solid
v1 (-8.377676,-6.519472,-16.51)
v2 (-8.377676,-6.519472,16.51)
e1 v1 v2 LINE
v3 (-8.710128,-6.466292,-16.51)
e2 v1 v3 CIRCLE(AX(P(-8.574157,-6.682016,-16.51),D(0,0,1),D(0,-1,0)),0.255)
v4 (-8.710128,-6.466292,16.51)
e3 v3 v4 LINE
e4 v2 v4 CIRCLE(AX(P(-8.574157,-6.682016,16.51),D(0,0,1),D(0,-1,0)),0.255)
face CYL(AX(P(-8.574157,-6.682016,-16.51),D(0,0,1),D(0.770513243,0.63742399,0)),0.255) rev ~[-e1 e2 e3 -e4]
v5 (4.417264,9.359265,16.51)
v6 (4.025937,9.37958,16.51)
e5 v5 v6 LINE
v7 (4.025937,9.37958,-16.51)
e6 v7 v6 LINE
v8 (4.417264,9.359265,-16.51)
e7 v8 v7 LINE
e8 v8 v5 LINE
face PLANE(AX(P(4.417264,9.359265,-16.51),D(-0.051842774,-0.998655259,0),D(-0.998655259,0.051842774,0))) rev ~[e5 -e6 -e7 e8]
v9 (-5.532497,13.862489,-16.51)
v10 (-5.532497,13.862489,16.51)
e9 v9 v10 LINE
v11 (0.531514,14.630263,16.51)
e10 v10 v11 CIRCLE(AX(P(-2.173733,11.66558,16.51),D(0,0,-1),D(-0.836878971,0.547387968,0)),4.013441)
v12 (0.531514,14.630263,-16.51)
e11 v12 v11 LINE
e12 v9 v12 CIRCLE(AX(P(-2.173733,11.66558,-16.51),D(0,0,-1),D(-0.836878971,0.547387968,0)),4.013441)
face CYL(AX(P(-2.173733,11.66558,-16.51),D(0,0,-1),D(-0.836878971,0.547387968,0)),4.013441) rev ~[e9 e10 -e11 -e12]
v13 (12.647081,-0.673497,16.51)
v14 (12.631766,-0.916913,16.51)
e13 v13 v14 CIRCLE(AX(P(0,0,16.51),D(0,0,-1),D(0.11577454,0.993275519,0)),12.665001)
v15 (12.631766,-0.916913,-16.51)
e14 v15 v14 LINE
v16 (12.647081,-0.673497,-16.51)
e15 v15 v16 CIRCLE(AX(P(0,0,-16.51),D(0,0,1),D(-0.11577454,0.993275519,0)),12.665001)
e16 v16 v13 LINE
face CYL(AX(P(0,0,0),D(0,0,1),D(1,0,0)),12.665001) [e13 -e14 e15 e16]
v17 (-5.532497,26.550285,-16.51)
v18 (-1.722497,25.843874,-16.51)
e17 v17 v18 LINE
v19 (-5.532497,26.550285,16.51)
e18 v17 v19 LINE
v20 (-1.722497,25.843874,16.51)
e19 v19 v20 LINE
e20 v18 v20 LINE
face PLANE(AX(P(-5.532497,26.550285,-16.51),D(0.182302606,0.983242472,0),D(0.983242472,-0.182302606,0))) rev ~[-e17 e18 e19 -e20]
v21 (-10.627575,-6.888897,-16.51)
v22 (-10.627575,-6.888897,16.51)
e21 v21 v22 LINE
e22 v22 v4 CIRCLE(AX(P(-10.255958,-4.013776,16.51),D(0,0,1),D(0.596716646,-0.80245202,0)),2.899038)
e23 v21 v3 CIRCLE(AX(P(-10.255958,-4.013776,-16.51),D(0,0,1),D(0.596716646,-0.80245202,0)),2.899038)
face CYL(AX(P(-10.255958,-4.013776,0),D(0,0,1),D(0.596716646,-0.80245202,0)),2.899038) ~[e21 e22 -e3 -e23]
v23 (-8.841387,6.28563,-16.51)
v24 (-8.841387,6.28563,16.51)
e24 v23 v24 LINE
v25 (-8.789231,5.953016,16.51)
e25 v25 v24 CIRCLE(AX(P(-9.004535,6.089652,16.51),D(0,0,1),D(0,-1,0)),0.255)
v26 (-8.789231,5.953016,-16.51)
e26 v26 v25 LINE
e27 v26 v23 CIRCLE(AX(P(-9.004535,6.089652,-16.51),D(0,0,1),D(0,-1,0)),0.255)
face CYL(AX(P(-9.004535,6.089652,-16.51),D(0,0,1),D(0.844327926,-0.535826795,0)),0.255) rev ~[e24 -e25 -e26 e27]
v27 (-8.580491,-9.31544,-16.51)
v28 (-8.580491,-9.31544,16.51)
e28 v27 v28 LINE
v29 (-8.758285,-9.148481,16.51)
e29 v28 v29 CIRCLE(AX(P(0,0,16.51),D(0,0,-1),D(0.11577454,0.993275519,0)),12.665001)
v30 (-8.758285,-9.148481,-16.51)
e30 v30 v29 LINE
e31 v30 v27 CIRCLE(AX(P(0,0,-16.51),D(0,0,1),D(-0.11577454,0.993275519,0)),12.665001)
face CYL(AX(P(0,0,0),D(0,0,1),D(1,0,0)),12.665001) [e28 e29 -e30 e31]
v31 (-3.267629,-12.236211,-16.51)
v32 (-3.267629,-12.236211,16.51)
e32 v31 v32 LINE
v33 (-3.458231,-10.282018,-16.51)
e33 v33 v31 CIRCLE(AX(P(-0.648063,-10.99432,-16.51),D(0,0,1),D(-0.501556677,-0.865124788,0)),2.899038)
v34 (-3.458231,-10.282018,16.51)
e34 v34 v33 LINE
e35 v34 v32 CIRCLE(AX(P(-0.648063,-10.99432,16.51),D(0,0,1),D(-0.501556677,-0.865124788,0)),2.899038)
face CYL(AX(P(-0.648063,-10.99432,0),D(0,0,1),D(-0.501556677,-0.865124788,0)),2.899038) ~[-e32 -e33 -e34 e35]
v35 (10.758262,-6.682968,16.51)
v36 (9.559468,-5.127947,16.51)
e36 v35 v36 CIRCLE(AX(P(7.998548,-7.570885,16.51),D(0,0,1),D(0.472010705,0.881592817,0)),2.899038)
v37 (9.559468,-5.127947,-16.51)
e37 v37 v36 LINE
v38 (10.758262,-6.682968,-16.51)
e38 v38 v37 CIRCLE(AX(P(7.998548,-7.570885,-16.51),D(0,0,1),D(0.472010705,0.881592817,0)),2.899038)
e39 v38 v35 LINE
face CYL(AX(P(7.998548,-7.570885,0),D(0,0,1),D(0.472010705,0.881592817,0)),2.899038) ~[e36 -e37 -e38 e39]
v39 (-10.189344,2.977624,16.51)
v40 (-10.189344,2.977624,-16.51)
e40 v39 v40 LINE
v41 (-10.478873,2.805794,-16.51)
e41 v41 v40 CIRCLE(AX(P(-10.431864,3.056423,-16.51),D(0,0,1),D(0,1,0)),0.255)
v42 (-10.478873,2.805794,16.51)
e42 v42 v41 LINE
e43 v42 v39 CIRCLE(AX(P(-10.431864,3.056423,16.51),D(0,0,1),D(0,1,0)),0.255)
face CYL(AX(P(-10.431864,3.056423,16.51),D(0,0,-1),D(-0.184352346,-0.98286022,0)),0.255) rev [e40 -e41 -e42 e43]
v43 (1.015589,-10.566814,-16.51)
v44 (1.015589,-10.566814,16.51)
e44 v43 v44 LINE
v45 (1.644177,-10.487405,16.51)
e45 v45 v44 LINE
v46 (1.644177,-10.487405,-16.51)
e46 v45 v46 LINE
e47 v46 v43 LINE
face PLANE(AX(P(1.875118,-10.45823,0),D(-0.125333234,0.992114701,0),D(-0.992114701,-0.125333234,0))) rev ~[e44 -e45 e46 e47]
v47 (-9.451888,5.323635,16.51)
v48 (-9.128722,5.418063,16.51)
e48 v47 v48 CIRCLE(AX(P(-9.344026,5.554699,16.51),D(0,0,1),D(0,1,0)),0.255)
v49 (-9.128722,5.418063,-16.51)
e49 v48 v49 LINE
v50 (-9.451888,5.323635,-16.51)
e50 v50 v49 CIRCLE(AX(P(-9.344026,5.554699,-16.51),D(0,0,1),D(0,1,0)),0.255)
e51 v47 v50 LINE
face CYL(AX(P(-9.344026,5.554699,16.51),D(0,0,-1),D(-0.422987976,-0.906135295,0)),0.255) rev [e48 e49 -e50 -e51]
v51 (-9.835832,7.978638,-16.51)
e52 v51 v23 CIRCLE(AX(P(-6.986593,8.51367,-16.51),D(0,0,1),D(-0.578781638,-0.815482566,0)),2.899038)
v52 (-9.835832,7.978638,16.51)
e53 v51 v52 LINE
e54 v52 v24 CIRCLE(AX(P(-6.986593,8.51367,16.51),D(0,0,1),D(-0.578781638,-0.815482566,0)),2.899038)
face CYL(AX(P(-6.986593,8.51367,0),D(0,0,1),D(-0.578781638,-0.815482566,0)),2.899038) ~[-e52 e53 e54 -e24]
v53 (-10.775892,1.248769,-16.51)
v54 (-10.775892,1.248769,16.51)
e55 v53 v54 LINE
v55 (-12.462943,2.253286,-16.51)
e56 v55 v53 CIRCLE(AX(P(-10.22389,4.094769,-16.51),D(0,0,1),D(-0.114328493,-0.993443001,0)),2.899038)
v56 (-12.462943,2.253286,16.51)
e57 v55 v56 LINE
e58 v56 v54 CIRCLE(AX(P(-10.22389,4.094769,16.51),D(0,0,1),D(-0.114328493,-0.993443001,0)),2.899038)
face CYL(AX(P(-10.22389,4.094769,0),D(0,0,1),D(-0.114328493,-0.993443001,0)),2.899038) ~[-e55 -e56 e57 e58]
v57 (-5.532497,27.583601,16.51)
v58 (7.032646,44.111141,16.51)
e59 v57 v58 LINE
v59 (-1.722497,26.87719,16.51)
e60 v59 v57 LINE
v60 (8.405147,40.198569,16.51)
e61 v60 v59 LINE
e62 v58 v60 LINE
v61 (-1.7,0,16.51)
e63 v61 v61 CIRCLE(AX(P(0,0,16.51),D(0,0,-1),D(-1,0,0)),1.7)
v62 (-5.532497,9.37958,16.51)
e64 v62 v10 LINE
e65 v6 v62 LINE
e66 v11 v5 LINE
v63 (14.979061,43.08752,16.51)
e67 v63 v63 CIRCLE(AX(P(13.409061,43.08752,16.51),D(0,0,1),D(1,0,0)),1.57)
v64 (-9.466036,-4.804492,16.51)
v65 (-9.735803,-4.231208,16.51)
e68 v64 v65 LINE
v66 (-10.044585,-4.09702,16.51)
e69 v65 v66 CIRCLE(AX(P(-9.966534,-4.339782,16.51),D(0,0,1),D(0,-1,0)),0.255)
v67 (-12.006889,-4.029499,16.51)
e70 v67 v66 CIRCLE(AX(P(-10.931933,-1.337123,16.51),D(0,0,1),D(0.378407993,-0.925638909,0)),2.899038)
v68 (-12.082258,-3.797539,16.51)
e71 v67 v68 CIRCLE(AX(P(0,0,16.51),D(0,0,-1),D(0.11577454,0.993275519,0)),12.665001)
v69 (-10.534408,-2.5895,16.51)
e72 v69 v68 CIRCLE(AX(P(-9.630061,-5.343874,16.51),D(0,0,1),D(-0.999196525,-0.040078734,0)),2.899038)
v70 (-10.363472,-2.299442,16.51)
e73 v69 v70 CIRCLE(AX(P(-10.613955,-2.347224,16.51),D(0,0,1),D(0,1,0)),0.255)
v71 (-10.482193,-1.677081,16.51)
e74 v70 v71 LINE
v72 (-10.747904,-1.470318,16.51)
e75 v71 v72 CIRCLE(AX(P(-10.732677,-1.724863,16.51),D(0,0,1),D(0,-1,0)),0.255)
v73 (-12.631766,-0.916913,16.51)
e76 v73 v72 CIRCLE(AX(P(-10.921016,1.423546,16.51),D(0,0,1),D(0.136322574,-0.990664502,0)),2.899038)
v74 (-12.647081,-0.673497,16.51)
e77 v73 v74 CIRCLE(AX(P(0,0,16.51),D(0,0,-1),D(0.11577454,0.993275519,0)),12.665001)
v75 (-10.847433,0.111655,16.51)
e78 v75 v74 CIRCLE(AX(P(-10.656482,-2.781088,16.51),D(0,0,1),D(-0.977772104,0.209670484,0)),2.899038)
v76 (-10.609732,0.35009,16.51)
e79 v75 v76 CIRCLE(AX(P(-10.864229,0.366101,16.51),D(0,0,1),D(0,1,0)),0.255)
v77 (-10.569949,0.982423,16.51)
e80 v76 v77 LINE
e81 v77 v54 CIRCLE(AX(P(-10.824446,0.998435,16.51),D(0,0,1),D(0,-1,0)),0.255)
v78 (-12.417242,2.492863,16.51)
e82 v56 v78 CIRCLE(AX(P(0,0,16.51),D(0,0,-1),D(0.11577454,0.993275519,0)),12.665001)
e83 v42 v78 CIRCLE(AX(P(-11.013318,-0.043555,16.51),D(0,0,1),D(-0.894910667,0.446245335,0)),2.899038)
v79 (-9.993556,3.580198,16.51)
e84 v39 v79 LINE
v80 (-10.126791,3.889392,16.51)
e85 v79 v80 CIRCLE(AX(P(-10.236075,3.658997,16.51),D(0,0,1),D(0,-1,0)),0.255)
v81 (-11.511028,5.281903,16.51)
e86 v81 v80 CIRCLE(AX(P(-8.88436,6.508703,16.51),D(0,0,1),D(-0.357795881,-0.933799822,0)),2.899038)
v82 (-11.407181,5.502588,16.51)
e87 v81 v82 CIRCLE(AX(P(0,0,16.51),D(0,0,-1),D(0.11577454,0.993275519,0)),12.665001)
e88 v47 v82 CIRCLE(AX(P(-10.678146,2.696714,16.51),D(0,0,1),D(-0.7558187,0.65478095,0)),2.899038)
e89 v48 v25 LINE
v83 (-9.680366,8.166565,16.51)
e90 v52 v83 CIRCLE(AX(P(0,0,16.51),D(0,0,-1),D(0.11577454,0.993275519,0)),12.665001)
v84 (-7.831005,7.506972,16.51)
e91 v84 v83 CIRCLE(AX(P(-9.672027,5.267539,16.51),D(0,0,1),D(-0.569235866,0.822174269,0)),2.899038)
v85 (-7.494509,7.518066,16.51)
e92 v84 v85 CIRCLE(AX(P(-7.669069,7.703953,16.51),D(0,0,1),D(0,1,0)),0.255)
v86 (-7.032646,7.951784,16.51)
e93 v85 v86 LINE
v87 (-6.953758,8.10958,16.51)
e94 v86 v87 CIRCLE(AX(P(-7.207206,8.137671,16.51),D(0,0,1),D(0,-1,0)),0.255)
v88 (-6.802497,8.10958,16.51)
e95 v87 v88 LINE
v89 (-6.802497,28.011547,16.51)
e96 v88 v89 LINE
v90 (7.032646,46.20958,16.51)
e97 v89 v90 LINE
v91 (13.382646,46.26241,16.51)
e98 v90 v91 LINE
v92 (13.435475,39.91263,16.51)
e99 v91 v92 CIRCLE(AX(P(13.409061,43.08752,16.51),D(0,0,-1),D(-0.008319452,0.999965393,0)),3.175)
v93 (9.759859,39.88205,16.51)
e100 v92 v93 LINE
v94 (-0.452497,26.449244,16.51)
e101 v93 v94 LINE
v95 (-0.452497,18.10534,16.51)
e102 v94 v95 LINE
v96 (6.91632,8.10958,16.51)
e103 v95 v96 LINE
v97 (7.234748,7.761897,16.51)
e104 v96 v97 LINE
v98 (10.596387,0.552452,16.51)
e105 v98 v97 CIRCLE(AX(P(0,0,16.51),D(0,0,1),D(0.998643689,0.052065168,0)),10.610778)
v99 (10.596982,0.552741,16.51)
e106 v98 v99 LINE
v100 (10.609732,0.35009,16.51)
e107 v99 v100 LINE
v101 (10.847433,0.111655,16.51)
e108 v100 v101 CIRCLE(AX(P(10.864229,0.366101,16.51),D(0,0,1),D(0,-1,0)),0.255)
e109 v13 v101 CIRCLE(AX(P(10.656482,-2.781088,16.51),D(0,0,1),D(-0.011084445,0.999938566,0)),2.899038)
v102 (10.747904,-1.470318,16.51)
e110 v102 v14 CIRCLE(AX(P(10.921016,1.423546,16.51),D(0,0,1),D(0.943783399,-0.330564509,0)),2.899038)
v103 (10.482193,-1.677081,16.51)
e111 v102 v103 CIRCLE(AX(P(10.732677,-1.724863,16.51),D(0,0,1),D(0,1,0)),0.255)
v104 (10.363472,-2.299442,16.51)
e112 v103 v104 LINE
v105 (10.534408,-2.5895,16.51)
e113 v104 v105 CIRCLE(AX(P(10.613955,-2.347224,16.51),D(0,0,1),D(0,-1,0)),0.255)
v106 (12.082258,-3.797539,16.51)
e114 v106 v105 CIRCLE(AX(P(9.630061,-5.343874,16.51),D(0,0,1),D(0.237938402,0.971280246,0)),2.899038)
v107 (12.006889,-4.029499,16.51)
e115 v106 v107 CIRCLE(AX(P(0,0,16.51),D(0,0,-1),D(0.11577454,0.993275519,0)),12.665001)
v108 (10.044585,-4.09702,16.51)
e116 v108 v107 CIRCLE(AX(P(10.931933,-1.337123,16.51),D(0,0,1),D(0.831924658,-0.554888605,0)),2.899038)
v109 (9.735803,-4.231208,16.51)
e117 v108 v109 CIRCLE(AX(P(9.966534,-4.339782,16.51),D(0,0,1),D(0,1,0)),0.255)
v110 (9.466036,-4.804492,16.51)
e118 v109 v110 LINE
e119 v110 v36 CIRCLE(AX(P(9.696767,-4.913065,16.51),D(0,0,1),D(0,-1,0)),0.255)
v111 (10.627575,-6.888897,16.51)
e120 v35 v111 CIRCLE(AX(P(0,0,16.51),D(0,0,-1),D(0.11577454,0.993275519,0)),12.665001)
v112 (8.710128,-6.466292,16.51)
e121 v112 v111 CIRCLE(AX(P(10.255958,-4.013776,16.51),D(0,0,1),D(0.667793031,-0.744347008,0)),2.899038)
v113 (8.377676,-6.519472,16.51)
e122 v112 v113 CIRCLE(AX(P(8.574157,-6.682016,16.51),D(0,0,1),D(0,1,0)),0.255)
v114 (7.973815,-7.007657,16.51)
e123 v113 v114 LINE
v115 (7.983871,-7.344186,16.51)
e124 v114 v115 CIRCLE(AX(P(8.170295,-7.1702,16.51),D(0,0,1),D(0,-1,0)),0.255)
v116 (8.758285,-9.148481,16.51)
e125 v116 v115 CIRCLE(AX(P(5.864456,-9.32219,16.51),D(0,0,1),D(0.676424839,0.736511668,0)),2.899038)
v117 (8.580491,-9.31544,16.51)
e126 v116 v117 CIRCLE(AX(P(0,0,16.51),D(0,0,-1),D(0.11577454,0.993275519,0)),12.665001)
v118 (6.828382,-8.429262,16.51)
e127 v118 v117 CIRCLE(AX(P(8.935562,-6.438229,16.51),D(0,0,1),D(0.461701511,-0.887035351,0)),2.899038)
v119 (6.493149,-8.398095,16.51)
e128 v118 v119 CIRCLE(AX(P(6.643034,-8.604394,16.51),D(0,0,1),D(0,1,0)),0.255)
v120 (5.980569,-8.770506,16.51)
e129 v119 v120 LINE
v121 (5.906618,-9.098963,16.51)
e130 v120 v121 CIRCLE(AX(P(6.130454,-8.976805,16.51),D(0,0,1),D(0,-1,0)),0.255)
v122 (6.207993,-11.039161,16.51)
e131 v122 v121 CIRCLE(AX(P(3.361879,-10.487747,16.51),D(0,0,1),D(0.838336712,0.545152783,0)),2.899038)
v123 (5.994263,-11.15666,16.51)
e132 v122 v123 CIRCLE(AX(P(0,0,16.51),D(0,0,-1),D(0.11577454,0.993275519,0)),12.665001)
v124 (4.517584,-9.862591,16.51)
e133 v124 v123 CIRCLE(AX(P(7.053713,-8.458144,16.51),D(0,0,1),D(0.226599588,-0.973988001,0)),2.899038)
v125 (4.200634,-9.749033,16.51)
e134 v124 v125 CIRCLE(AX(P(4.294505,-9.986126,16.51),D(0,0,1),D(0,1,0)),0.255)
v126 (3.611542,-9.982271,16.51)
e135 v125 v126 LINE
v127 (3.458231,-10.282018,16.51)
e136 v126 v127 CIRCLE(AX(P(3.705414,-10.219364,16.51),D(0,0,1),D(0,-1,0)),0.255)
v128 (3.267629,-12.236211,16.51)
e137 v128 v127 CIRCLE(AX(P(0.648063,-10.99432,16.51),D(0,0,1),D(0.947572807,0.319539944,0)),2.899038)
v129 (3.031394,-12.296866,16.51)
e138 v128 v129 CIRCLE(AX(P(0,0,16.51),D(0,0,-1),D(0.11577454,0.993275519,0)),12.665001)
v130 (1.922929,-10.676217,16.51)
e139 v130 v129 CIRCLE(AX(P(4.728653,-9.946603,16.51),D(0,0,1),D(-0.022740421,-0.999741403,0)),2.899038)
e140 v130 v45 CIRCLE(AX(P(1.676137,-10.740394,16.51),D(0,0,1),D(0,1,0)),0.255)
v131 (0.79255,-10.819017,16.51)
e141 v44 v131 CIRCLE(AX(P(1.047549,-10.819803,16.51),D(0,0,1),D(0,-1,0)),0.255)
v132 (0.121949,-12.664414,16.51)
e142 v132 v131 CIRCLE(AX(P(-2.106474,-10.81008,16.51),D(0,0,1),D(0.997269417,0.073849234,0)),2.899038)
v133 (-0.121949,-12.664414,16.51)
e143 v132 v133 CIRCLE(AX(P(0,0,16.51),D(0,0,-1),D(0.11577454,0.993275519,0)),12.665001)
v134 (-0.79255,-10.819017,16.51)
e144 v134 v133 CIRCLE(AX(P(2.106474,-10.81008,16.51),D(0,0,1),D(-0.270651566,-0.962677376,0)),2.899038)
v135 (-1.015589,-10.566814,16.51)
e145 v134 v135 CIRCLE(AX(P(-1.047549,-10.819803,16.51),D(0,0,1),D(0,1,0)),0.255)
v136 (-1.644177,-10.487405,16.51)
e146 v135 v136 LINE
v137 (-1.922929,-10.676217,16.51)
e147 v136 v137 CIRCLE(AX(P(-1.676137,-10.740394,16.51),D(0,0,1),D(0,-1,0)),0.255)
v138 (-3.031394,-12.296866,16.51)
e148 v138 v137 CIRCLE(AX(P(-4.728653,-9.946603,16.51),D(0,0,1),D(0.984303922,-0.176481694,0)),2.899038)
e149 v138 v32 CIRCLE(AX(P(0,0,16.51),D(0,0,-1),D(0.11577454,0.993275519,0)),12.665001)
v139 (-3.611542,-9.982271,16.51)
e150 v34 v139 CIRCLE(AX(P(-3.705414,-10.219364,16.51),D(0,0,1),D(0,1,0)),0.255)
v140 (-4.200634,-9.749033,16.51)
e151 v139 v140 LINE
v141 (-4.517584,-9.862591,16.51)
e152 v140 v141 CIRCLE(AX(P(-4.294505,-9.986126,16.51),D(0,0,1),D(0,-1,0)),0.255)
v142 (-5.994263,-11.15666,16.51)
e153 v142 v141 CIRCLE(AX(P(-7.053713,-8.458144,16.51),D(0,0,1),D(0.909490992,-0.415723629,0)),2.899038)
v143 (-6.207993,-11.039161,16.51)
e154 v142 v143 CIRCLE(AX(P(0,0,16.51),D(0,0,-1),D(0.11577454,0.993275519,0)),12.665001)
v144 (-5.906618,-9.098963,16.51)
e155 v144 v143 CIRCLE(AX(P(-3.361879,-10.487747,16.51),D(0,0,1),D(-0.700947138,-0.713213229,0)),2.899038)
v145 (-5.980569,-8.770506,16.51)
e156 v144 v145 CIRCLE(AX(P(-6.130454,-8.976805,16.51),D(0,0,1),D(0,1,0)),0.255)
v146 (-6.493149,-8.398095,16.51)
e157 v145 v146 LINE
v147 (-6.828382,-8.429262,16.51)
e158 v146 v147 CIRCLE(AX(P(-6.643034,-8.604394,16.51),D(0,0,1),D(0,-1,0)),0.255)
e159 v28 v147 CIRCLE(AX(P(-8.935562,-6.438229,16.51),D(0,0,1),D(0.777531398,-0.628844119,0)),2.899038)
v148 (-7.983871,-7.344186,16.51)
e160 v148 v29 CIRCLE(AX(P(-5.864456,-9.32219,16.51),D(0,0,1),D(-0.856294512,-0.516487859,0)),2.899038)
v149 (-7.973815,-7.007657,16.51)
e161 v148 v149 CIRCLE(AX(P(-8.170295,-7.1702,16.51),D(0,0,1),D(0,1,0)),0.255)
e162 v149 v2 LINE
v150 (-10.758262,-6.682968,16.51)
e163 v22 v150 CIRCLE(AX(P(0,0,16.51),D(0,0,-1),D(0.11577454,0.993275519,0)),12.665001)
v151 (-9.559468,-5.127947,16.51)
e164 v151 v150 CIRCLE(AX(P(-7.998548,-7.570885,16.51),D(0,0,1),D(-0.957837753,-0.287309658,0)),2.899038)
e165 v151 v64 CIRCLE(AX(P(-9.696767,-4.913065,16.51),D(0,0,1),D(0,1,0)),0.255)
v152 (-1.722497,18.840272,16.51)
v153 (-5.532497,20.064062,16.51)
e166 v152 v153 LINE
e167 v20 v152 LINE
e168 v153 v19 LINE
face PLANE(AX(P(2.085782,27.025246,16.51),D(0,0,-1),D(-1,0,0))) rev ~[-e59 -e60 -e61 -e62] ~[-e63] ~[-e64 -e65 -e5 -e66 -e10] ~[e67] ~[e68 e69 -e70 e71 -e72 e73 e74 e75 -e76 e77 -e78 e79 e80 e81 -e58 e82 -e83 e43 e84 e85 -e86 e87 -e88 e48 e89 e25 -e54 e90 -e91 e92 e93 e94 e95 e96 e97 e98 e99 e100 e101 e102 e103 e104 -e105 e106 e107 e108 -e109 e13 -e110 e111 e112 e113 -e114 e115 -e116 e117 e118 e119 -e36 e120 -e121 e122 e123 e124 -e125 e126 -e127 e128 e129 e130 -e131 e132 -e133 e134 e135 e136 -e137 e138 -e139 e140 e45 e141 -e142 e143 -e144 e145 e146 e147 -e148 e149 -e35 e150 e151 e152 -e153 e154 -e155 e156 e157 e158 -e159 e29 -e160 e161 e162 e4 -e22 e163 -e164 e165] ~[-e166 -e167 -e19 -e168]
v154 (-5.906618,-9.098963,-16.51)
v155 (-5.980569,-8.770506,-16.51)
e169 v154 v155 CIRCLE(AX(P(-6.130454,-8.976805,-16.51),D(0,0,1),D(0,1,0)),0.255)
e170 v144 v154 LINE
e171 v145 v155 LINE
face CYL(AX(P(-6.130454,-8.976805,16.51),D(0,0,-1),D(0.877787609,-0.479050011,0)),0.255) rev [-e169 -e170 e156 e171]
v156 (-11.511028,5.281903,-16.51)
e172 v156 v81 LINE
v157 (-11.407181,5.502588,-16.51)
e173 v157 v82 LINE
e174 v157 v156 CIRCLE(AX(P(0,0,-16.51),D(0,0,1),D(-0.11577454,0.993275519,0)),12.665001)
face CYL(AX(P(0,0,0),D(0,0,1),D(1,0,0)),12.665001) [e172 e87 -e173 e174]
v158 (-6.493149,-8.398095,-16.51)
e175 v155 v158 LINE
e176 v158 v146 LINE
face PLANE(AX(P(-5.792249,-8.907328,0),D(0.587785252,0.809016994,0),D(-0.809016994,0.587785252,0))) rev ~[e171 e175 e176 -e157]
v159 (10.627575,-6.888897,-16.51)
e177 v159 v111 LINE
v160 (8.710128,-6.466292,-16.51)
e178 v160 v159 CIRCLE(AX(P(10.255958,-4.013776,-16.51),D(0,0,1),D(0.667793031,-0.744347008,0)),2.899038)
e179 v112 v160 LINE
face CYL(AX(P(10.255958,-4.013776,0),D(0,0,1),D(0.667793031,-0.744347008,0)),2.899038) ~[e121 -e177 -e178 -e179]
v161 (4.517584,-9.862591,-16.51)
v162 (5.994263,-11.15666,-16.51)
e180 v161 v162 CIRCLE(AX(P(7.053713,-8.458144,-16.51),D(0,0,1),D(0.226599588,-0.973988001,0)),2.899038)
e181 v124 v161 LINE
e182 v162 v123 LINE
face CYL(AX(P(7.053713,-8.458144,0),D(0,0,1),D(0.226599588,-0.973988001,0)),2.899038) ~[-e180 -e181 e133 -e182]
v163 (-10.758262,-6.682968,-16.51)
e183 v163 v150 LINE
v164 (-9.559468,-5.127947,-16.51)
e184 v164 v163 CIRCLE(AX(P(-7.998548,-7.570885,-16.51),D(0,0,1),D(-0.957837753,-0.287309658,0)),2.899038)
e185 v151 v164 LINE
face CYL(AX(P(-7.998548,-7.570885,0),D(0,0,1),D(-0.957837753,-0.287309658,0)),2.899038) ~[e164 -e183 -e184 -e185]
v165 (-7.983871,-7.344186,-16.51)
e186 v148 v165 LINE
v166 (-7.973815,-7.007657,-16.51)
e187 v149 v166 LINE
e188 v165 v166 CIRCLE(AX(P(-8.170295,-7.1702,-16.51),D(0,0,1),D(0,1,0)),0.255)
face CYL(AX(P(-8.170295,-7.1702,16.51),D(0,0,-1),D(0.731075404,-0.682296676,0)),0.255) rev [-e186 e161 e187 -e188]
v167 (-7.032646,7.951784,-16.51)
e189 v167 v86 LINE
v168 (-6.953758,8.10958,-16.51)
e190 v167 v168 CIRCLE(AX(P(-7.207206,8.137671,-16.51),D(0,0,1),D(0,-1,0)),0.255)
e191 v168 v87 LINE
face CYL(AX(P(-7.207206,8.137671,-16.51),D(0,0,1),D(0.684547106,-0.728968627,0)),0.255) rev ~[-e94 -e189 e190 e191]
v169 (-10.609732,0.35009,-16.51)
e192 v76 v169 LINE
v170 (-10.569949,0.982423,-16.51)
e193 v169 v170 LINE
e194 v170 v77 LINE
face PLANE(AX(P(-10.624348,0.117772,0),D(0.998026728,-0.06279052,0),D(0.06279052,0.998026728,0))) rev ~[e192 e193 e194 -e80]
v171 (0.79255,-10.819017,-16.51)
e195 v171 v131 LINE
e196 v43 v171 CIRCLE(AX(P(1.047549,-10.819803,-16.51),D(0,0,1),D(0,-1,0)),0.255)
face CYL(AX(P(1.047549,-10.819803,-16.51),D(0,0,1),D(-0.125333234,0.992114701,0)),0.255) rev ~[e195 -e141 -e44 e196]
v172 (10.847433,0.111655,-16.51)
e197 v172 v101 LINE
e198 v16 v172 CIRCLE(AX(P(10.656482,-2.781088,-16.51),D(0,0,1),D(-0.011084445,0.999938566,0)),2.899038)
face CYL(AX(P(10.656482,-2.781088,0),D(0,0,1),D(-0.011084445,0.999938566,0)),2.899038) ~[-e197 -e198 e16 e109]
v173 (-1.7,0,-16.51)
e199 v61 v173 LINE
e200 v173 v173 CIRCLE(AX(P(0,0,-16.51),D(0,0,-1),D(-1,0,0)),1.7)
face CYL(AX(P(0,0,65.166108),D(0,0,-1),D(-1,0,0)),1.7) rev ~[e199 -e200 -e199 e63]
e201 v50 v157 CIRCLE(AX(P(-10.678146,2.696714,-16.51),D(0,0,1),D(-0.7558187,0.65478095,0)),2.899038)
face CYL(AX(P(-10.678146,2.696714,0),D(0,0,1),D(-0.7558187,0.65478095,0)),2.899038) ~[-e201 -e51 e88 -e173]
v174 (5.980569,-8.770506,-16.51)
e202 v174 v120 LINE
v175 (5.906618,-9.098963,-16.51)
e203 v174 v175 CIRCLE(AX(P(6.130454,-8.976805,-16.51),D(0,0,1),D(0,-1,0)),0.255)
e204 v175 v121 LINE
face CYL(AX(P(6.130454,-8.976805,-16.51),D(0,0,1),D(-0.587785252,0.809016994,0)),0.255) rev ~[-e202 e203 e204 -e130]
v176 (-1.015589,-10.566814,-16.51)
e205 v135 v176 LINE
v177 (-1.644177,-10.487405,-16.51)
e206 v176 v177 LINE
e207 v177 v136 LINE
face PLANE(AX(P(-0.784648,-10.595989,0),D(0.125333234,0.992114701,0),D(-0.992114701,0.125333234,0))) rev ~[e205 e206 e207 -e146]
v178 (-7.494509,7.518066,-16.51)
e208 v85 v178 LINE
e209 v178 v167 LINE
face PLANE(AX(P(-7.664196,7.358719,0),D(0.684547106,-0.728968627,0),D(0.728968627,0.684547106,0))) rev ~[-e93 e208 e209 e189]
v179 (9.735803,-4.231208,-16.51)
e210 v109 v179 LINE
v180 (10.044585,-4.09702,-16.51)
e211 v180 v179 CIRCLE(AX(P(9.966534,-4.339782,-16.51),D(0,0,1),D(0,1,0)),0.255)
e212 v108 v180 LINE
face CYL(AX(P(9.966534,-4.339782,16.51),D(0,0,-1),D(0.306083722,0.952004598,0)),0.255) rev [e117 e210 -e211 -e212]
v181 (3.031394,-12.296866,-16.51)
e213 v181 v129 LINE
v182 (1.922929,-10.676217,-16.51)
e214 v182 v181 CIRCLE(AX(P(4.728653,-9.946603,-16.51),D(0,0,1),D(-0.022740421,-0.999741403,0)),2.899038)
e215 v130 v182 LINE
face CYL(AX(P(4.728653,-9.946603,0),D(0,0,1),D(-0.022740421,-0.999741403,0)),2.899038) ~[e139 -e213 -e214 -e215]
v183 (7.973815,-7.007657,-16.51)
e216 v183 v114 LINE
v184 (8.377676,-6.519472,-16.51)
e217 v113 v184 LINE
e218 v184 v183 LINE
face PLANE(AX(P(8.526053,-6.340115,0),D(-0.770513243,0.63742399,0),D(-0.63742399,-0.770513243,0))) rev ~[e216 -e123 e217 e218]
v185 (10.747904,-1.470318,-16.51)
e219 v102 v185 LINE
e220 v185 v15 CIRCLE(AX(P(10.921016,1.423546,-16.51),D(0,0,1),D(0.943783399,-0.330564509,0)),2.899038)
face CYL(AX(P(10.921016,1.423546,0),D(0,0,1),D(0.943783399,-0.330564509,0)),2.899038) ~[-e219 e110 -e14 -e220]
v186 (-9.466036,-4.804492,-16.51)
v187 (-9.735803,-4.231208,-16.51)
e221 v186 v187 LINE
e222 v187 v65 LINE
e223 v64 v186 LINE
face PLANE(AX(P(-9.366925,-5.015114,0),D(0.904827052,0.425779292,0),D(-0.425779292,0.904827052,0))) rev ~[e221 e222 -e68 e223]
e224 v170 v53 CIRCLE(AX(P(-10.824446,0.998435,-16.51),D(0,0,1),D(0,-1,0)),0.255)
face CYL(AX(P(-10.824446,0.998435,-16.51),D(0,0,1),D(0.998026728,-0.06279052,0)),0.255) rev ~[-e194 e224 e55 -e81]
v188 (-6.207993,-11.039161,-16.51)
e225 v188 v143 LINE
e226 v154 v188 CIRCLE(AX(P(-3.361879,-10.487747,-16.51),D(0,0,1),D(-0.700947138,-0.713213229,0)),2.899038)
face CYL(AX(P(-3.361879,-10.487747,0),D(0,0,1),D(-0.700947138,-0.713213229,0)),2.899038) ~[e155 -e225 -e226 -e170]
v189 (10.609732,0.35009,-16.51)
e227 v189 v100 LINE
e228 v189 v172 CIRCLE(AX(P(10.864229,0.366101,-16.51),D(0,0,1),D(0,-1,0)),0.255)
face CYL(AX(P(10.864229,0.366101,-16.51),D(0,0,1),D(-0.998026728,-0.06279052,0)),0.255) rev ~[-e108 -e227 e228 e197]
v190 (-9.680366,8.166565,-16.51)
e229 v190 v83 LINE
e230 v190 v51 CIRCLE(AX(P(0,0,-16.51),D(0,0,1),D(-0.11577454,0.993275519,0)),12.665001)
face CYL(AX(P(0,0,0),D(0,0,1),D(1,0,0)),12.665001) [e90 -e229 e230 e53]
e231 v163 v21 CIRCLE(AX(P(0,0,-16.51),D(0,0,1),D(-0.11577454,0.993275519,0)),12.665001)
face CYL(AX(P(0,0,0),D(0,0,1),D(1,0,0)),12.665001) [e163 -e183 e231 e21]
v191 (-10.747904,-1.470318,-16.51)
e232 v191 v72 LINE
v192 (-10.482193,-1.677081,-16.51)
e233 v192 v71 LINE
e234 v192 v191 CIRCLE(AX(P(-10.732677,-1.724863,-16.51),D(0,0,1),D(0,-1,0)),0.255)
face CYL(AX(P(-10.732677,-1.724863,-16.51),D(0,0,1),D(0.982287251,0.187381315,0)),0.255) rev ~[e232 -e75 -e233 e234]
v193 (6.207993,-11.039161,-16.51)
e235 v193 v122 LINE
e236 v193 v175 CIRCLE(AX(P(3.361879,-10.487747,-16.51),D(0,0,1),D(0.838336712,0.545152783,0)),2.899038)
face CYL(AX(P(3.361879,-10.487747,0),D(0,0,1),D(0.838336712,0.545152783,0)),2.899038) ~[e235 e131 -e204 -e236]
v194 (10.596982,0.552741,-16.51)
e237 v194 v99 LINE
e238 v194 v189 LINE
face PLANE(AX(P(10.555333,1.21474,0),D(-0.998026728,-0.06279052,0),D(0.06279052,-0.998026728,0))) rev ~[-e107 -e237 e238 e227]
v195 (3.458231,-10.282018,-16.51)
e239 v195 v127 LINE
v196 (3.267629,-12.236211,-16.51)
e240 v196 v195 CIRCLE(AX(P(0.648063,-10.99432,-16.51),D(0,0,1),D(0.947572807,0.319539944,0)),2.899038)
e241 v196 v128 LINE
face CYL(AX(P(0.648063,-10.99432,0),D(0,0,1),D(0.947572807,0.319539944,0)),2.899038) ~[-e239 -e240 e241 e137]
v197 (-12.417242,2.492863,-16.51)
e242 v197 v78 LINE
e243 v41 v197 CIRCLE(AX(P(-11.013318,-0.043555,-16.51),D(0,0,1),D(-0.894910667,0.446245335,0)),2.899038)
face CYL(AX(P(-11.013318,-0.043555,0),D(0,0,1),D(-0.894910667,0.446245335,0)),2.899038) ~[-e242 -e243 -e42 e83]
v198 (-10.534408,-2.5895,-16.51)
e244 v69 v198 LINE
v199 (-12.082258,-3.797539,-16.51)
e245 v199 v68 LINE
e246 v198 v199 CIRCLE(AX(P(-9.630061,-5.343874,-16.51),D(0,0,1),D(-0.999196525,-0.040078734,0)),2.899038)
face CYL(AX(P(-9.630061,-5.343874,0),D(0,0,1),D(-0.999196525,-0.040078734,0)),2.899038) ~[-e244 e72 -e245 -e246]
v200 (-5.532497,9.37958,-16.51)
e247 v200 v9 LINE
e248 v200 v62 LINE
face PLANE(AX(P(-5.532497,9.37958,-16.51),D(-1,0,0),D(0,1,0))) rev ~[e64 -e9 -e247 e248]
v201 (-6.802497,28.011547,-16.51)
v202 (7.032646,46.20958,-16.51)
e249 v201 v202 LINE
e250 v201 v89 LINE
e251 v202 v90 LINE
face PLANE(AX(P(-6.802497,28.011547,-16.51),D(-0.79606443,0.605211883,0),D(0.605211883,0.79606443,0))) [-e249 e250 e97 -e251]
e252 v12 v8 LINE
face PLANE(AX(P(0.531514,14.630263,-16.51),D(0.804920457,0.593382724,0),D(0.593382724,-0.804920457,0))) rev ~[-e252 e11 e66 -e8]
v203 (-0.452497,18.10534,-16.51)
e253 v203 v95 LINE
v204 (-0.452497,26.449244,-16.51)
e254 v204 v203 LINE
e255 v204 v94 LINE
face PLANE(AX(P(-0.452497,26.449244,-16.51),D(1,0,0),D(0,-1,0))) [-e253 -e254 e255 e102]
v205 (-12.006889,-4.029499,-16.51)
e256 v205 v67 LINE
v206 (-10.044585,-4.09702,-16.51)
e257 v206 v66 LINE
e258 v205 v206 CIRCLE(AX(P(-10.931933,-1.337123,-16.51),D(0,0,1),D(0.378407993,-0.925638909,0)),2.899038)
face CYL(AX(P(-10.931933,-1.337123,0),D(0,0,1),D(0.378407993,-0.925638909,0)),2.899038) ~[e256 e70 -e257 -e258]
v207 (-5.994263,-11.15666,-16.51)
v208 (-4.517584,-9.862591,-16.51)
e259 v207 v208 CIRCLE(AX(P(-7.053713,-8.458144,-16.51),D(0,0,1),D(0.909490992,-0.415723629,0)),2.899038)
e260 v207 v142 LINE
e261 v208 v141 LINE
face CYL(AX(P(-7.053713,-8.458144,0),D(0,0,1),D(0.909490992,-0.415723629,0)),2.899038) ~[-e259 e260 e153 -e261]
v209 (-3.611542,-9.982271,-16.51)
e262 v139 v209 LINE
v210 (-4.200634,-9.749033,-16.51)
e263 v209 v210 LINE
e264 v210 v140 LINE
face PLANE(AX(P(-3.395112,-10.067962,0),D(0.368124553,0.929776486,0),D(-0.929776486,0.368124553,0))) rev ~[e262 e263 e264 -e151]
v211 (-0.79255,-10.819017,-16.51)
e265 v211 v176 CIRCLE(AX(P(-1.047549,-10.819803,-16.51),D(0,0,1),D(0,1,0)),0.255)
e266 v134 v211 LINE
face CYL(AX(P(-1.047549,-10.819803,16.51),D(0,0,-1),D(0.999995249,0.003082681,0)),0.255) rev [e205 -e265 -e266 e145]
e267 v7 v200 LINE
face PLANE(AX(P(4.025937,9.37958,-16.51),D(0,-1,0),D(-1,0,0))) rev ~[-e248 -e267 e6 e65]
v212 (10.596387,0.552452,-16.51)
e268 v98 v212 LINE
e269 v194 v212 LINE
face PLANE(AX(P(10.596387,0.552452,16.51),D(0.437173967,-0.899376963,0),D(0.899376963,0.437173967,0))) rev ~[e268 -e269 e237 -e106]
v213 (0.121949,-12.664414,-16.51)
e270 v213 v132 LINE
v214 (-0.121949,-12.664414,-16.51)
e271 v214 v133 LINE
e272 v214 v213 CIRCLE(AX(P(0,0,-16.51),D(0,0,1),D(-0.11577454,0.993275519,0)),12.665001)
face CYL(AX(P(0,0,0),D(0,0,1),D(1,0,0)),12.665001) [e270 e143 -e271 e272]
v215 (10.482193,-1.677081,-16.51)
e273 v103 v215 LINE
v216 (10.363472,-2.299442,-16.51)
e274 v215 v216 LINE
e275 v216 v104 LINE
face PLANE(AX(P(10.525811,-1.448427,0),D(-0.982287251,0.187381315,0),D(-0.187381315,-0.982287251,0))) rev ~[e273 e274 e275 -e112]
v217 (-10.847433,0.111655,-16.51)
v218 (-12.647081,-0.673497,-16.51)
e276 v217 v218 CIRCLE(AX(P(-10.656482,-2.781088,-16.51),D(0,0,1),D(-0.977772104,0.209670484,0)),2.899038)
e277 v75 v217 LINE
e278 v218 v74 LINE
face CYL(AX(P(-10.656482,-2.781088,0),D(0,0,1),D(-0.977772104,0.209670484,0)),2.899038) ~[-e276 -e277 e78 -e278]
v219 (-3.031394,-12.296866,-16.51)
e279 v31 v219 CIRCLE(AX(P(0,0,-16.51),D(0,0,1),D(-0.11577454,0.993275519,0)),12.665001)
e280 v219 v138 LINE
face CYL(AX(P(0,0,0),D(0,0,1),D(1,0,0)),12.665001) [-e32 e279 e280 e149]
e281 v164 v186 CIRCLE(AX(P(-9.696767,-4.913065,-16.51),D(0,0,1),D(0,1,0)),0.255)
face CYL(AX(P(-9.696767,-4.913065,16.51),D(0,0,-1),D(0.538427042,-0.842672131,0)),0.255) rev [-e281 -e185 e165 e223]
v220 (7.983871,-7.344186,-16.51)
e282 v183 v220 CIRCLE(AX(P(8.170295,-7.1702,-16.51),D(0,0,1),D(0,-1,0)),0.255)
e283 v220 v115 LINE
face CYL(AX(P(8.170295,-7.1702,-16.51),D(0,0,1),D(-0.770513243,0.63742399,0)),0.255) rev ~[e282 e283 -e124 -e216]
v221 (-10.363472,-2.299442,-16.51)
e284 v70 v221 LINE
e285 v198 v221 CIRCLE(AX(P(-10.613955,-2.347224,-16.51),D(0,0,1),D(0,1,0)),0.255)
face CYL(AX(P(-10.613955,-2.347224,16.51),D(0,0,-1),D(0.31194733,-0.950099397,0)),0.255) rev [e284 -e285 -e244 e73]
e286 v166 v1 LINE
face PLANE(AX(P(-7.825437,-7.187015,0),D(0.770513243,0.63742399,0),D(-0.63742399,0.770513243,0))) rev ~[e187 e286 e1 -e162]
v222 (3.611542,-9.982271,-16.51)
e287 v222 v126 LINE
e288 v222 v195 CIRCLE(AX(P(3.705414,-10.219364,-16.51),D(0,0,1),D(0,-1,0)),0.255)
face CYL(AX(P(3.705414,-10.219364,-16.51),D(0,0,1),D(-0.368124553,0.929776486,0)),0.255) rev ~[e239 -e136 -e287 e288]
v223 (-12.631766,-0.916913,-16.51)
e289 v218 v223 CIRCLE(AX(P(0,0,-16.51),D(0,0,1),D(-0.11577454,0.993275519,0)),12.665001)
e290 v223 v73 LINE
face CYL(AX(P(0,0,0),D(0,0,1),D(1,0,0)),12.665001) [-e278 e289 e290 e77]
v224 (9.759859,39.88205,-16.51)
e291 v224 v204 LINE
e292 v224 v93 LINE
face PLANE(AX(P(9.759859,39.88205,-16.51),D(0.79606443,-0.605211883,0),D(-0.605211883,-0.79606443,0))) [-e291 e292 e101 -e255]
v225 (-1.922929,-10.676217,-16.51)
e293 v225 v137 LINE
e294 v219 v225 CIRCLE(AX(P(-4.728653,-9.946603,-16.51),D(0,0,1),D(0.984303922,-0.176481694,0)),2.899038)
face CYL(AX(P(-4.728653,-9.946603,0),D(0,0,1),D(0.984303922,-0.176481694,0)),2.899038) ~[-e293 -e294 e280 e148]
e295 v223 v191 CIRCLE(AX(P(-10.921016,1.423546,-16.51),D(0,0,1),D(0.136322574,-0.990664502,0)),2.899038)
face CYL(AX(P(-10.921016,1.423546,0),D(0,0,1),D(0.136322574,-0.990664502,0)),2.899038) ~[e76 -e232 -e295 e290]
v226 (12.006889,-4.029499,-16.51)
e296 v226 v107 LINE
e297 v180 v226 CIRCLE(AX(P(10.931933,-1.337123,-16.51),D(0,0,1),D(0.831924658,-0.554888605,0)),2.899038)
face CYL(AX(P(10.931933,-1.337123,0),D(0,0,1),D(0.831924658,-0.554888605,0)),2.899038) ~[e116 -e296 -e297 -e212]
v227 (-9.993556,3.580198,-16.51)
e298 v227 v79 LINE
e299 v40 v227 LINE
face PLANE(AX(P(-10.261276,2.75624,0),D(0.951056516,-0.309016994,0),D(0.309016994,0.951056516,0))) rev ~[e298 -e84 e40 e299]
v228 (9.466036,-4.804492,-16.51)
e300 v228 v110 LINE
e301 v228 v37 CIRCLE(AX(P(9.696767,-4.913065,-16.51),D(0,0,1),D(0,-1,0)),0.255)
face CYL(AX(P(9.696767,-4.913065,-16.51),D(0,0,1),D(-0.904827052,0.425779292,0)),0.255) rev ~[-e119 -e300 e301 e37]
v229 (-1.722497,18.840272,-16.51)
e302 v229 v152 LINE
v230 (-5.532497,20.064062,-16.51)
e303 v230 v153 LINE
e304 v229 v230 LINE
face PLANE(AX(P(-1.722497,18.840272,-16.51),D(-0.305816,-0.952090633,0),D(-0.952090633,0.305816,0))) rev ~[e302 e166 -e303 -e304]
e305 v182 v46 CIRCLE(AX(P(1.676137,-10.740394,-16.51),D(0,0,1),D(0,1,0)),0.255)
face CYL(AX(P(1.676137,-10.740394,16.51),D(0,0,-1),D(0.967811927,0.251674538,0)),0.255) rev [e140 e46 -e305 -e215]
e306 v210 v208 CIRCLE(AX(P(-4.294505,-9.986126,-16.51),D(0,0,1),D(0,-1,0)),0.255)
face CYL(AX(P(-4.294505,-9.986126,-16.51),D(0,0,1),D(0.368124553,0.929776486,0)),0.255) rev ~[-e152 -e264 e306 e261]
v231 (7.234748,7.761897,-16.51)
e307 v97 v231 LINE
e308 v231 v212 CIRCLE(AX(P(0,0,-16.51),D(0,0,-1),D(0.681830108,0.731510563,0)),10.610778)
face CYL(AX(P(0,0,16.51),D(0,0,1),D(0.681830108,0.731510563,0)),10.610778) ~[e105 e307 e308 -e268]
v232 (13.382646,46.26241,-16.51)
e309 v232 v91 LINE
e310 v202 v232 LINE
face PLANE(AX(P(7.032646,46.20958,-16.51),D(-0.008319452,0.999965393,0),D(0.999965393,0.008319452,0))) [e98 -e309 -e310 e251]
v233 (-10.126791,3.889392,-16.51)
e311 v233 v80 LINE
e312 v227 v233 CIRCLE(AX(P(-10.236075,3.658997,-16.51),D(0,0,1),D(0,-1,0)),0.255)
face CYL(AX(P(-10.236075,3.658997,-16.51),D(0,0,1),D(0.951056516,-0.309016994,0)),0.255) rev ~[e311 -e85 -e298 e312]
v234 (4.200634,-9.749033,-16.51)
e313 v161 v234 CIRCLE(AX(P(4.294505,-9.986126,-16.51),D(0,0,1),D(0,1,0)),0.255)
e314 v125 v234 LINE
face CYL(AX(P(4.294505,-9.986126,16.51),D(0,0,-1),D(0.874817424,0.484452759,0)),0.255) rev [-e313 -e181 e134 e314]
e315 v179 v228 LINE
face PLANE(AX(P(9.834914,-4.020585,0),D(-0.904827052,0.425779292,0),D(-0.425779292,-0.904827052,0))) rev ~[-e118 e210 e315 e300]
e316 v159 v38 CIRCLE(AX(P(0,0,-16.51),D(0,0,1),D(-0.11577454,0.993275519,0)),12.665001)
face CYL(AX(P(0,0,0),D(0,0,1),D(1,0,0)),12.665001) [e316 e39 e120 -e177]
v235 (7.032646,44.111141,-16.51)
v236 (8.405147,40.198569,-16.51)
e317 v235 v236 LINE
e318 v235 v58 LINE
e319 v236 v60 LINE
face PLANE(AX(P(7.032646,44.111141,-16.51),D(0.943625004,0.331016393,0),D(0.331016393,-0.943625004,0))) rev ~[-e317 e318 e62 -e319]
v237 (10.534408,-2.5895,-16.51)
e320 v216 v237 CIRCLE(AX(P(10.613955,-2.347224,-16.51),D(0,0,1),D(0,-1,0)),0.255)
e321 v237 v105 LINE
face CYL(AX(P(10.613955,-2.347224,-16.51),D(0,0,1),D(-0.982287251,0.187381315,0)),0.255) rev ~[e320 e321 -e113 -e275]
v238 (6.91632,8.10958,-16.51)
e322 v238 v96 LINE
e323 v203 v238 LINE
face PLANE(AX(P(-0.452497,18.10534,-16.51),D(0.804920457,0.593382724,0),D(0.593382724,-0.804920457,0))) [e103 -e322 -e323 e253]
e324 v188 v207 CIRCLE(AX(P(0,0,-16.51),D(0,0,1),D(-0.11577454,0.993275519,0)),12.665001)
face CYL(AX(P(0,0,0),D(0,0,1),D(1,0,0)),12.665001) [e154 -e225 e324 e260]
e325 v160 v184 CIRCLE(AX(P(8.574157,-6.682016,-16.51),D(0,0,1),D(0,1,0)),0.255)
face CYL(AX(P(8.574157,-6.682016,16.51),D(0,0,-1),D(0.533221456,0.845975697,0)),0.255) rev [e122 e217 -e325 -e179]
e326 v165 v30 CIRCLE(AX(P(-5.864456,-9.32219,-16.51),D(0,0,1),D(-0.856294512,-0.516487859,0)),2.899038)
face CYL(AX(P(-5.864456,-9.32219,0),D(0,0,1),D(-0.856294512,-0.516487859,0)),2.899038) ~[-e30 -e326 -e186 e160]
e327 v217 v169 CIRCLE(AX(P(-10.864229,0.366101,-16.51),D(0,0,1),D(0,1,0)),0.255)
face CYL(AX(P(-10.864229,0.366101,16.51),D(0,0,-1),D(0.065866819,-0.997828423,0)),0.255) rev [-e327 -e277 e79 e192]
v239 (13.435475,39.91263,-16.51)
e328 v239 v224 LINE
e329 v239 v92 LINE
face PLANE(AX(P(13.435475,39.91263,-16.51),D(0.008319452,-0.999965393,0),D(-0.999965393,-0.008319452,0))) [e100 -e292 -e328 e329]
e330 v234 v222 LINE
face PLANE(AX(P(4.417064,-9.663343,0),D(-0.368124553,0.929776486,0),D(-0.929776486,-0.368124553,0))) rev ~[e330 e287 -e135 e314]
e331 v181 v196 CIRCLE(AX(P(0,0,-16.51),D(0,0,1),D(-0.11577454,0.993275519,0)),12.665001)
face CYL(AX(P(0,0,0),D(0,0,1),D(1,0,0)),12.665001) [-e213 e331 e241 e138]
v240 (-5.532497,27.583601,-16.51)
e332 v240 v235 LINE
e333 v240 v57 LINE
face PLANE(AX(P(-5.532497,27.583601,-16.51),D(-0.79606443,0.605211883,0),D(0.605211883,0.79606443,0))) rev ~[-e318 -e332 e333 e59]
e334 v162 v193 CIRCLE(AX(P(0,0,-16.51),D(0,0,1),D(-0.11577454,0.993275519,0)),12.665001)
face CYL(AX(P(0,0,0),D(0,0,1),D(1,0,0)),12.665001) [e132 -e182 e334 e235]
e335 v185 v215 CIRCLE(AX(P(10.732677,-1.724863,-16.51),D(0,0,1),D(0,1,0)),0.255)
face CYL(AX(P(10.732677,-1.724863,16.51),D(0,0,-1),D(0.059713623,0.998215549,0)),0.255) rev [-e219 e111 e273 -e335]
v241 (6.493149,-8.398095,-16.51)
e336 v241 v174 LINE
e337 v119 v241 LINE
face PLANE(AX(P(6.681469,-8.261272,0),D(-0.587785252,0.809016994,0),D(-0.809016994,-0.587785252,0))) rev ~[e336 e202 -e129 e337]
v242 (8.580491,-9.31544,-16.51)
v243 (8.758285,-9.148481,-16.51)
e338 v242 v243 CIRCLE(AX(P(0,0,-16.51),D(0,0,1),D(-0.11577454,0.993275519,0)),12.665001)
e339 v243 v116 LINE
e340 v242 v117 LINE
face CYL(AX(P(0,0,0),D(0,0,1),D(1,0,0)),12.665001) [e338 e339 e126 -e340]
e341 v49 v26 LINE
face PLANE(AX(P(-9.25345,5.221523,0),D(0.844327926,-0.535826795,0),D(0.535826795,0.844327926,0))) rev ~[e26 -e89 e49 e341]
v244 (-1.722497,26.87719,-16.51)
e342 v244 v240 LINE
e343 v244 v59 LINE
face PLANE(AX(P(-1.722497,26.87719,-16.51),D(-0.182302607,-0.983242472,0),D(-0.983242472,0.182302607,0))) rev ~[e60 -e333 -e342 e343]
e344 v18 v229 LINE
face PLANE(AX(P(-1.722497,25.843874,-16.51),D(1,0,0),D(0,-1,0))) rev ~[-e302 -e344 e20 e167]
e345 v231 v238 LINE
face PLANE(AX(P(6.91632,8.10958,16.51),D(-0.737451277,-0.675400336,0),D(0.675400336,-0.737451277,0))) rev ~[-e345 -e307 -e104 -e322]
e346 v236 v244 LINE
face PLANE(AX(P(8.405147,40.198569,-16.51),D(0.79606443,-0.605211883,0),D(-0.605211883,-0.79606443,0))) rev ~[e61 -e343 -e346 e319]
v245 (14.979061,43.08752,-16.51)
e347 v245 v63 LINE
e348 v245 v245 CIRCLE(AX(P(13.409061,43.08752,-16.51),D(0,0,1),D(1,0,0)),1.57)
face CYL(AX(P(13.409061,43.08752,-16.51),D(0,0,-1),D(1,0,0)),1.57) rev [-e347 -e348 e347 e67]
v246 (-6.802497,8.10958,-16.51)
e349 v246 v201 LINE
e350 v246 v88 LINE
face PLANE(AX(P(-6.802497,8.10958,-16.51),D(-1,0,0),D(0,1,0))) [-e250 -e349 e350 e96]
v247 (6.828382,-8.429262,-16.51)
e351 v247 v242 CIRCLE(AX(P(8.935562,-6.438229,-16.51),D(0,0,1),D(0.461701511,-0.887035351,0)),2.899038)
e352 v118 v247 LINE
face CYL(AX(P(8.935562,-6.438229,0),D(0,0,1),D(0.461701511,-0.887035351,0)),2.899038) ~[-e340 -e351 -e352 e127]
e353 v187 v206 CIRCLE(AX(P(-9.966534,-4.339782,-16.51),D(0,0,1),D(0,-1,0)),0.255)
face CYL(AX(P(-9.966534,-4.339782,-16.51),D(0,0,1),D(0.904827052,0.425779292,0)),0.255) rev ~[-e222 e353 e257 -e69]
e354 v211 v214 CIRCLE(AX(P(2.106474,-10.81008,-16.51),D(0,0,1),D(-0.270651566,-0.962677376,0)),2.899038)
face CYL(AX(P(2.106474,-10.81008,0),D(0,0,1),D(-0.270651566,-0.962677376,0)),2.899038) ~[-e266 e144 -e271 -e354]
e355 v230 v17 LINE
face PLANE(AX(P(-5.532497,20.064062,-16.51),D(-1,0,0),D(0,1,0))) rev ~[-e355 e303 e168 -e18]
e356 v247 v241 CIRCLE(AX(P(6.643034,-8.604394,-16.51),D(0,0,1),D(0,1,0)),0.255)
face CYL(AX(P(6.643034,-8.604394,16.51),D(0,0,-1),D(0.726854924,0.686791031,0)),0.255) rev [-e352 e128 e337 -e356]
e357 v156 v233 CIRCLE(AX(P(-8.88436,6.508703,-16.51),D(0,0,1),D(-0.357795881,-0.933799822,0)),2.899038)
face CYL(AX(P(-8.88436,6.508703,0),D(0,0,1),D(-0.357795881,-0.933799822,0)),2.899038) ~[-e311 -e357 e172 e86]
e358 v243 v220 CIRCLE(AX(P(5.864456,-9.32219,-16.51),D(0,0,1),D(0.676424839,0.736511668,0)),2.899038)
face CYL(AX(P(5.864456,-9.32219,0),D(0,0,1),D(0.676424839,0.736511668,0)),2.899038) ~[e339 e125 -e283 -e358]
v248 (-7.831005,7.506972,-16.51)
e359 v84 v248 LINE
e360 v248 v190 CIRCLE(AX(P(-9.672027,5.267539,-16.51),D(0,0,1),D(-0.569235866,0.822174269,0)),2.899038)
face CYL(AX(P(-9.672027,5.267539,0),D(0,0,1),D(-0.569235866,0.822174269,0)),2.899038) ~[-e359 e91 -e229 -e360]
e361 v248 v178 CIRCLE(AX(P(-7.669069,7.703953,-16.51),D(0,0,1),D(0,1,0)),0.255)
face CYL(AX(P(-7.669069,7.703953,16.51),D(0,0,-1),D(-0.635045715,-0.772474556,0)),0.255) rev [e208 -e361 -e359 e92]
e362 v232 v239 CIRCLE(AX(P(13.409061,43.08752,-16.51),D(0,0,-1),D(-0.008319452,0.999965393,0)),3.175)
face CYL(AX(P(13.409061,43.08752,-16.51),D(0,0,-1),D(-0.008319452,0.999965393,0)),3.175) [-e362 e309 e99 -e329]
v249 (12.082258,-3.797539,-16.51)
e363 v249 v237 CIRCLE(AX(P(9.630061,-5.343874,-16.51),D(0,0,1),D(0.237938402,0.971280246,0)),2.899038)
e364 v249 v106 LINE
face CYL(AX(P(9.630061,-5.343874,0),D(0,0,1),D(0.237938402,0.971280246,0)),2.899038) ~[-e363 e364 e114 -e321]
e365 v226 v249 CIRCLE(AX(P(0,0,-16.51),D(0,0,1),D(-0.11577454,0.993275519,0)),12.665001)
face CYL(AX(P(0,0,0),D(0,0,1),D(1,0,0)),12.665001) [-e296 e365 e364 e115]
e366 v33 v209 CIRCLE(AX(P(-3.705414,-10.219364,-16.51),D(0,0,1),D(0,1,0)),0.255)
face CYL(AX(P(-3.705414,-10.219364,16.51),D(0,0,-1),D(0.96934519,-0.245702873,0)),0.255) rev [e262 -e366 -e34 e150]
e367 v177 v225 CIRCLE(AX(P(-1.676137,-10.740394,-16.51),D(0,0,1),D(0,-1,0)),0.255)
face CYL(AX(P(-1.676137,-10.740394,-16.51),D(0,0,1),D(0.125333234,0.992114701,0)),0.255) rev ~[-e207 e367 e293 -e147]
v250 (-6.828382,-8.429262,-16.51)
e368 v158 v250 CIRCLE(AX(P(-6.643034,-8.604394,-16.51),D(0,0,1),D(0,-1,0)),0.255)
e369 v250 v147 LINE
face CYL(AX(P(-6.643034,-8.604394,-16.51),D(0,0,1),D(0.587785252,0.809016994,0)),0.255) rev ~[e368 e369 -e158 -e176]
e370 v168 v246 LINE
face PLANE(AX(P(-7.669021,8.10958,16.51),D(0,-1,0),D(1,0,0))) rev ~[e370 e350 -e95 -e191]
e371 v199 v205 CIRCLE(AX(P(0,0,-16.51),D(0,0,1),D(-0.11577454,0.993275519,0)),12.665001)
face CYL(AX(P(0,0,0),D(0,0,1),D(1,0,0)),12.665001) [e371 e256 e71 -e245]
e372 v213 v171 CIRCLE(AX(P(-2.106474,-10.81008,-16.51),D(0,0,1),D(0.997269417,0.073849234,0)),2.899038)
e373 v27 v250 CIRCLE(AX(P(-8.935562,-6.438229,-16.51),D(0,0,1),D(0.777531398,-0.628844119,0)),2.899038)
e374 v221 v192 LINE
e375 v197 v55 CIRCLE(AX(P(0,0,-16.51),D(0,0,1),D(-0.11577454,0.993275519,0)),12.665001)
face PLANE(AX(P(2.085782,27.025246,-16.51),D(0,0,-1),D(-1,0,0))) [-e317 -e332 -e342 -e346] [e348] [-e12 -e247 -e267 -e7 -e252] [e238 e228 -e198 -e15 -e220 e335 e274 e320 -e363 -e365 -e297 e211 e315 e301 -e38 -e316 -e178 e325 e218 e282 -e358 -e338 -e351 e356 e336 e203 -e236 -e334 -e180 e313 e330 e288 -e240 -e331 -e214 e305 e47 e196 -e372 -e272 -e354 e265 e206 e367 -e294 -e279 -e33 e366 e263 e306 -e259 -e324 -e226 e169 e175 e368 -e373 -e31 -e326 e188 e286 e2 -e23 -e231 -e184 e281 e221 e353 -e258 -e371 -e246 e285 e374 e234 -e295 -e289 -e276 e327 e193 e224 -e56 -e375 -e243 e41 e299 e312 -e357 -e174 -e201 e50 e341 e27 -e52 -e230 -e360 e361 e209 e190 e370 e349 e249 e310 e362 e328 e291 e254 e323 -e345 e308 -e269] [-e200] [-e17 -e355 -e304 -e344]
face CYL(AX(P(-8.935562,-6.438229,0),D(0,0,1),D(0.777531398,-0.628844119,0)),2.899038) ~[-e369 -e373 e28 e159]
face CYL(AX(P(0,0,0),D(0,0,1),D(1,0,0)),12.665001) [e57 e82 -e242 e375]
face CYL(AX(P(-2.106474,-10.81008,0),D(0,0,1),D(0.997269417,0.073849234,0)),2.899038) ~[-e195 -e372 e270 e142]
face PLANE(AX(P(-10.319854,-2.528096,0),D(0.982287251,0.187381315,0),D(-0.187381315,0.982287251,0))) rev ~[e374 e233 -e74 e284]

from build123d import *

# Parameters (mm, degrees)
SKETCH1_R                = 12.665001162
BOSS_EXTRUDE1_DEPTH      = 16.51
CUT_EXTRUDE1_DEPTH       = 25.359487041
FILLET1_R                = 0.255000023
CIRPATTERN1_COUNT        = 25
FILLET1_OF_CIRPATTERN1_R = 0.255000023
M3_CLEARANCE_HOLE1_D     = 3.4
SKETCH7_W                = 15.433030704
SKETCH7_H                = 5.386211439
CUT_EXTRUDE2_DEPTH       = 38.558904548
CLAW_PART_DEPTH          = 16.51
CLAW_PART_DEPTH_BACK     = 16.51
SKETCH8_R                = 1.57
CUT_EXTRUDE3_DEPTH       = 60.207872969


with BuildPart() as part:
    # Sketch1 → Boss-Extrude1 (new, symmetric)
    with BuildSketch(Plane.XY):
        Circle(SKETCH1_R)
    extrude(amount=BOSS_EXTRUDE1_DEPTH, both=True)

    # Sketch3 → Cut-Extrude1 (cut, symmetric)
    with BuildSketch(Plane.XY):
        with BuildLine():
            Line((-0.549568511, 10.61077849), (0.549568511, 10.61077849))
            ThreePointArc((0.549568511, 10.61077849), (1.298156627, 12.409330788), (3.016068488, 13.328000136))
            ThreePointArc((3.016068488, 13.328000136), (0, 13.665001162), (-3.016068488, 13.328000136))
            ThreePointArc((-3.016068488, 13.328000136), (-1.298156627, 12.409330788), (-0.549568511, 10.61077849))
        make_face()
    cut_extrude1 = extrude(amount=CUT_EXTRUDE1_DEPTH, both=True, mode=Mode.SUBTRACT)

    # Fillet1
    fillet1_edges = [part.edges().sort_by_distance(p)[0] for p in [
        (-0.549568511, 10.61077849, 0),
        (0.549568511, 10.61077849, 0),
    ]]
    fillet(fillet1_edges, radius=FILLET1_R)

    # CirPattern1: Cut-Extrude1 ×25 about axis, 7 skipped
    cirpattern1_axis = Axis((0, 0, 16.51), (0, 0, 1))
    add([cut_extrude1.rotate(cirpattern1_axis, i * 360 / CIRPATTERN1_COUNT) for i in range(1, CIRPATTERN1_COUNT) if i not in (1, 2, 20, 21, 22, 23, 24)], mode=Mode.SUBTRACT)

    # Fillet1 of CirPattern1
    fillet1_of_cirpattern1_edges = [part.edges().sort_by_distance(p)[0] for p in [
        (-7.66419591, 7.358719098, 0),
        (-6.862959504, 8.111130166, 0),
        (-9.253450125, 5.22152339, 0),
        (-8.664503057, 6.149555472, 0),
        (-10.261276036, 2.756240163, 0),
        (-9.921624017, 3.801581591, 0),
        (-10.624348235, 0.117772231, 0),
        (-10.55533285, 1.214740357, 0),
        (-10.319853561, -2.528095764, 0),
        (-10.525811301, -1.44842748, 0),
        (-9.366924534, -5.015114205, 0),
        (-9.834914317, -4.020585292, 0),
        (-7.82543719, -7.187014575, 0),
        (-8.526053496, -6.340114944, 0),
        (-5.792248847, -8.907328388, 0),
        (-6.681469377, -8.261271856, 0),
        (-3.395112206, -10.067962, 0),
        (-4.417063965, -9.663342675, 0),
        (-0.784648179, -10.595988531, 0),
        (-1.875118178, -10.458230134, 0),
        (1.875118178, -10.458230134, 0),
        (0.784648179, -10.595988531, 0),
        (4.417063965, -9.663342675, 0),
        (3.395112206, -10.067962, 0),
        (6.681469377, -8.261271856, 0),
        (5.792248847, -8.907328388, 0),
        (8.526053496, -6.340114944, 0),
        (7.82543719, -7.187014575, 0),
        (9.834914317, -4.020585292, 0),
        (9.366924534, -5.015114205, 0),
        (10.525811301, -1.44842748, 0),
        (10.319853561, -2.528095764, 0),
        (10.55533285, 1.214740357, 0),
        (10.624348235, 0.117772231, 0),
    ]]
    fillet(fillet1_of_cirpattern1_edges, radius=FILLET1_OF_CIRPATTERN1_R)

    # M3 Clearance Hole1 (through all)
    with Locations(Plane.XY.offset(16.51)):
        with Locations((0, 0)):
            Hole(M3_CLEARANCE_HOLE1_D / 2)

    # Sketch7 → Cut-Extrude2 (cut, through all)
    with BuildSketch(Plane.XY.offset(16.51)):
        with Locations((0.047493999, 10.802685467)):
            Rectangle(SKETCH7_W, SKETCH7_H)
    extrude(amount=-CUT_EXTRUDE2_DEPTH, mode=Mode.SUBTRACT)

    # Sketch8 → claw part (add, two sides: drawn at the far end of the back side and taken through both)
    with BuildSketch(Plane.XY.offset(-CLAW_PART_DEPTH_BACK)):
        with BuildLine():
            Line((3.992994947, 8.109579748), (-6.802497273, 8.109579748))
            Line((-6.802497273, 8.109579748), (-6.802497273, 28.011546875))
            Line((-6.802497273, 28.011546875), (7.032646368, 46.209579748))
            Line((7.032646368, 46.209579748), (13.382646368, 46.262410098))
            ThreePointArc((13.382646368, 46.262410098), (16.583950751, 43.113934237), (13.43547489, 39.912629854))
            Line((13.43547489, 39.912629854), (9.759859293, 39.882049687))
            Line((9.759859293, 39.882049687), (-0.452497273, 26.449243689))
            Line((-0.452497273, 26.449243689), (-0.452497273, 18.105340478))
            Line((-0.452497273, 18.105340478), (7.032646368, 7.951783594))
            Line((7.032646368, 7.951783594), (3.992994947, 8.109579748))
        make_face()
        with Locations((13.409060629, 43.087519976)):
            Circle(SKETCH8_R, mode=Mode.SUBTRACT)
        with BuildLine():
            Line((-5.532497273, 9.379579748), (-5.532497273, 13.862489028))
            ThreePointArc((-5.532497273, 13.862489028), (-2.677856166, 15.64723367), (0.531514386, 14.630262706))
            Line((0.531514386, 14.630262706), (4.417263537, 9.35926499))
            Line((4.417263537, 9.35926499), (4.025937257, 9.379579748))
            Line((4.025937257, 9.379579748), (-5.532497273, 9.379579748))
        make_face(mode=Mode.SUBTRACT)
        Polygon((-5.532497273, 27.583600596), (7.032646368, 44.111141108), (8.405146513, 40.198569154), (-1.722497273, 26.877189969), align=None, mode=Mode.SUBTRACT)
        Polygon((-1.722497273, 25.843874151), (-1.722497273, 18.840272222), (-5.532497273, 20.064062183), (-5.532497273, 26.550284777), align=None, mode=Mode.SUBTRACT)
    extrude(amount=CLAW_PART_DEPTH + CLAW_PART_DEPTH_BACK)

    # Sketch9 → Cut-Extrude3 (cut, through all)
    with BuildSketch(Plane.XY.offset(16.51)):
        with BuildLine():
            Line((6.916319953, 8.109579748), (7.234748251, 7.761896541))
            ThreePointArc((7.234748251, 7.761896541), (9.616723385, 4.484111006), (10.596386978, 0.552451967))
            Line((10.596386978, 0.552451967), (13.513134005, 1.97023997))
            Line((13.513134005, 1.97023997), (13.760629426, 4.432819406))
            Line((13.760629426, 4.432819406), (7.95686181, 10.69445355))
            Line((7.95686181, 10.69445355), (6.916319953, 8.109579748))
        make_face()
    extrude(amount=-CUT_EXTRUDE3_DEPTH, mode=Mode.SUBTRACT)


solid = part.part
